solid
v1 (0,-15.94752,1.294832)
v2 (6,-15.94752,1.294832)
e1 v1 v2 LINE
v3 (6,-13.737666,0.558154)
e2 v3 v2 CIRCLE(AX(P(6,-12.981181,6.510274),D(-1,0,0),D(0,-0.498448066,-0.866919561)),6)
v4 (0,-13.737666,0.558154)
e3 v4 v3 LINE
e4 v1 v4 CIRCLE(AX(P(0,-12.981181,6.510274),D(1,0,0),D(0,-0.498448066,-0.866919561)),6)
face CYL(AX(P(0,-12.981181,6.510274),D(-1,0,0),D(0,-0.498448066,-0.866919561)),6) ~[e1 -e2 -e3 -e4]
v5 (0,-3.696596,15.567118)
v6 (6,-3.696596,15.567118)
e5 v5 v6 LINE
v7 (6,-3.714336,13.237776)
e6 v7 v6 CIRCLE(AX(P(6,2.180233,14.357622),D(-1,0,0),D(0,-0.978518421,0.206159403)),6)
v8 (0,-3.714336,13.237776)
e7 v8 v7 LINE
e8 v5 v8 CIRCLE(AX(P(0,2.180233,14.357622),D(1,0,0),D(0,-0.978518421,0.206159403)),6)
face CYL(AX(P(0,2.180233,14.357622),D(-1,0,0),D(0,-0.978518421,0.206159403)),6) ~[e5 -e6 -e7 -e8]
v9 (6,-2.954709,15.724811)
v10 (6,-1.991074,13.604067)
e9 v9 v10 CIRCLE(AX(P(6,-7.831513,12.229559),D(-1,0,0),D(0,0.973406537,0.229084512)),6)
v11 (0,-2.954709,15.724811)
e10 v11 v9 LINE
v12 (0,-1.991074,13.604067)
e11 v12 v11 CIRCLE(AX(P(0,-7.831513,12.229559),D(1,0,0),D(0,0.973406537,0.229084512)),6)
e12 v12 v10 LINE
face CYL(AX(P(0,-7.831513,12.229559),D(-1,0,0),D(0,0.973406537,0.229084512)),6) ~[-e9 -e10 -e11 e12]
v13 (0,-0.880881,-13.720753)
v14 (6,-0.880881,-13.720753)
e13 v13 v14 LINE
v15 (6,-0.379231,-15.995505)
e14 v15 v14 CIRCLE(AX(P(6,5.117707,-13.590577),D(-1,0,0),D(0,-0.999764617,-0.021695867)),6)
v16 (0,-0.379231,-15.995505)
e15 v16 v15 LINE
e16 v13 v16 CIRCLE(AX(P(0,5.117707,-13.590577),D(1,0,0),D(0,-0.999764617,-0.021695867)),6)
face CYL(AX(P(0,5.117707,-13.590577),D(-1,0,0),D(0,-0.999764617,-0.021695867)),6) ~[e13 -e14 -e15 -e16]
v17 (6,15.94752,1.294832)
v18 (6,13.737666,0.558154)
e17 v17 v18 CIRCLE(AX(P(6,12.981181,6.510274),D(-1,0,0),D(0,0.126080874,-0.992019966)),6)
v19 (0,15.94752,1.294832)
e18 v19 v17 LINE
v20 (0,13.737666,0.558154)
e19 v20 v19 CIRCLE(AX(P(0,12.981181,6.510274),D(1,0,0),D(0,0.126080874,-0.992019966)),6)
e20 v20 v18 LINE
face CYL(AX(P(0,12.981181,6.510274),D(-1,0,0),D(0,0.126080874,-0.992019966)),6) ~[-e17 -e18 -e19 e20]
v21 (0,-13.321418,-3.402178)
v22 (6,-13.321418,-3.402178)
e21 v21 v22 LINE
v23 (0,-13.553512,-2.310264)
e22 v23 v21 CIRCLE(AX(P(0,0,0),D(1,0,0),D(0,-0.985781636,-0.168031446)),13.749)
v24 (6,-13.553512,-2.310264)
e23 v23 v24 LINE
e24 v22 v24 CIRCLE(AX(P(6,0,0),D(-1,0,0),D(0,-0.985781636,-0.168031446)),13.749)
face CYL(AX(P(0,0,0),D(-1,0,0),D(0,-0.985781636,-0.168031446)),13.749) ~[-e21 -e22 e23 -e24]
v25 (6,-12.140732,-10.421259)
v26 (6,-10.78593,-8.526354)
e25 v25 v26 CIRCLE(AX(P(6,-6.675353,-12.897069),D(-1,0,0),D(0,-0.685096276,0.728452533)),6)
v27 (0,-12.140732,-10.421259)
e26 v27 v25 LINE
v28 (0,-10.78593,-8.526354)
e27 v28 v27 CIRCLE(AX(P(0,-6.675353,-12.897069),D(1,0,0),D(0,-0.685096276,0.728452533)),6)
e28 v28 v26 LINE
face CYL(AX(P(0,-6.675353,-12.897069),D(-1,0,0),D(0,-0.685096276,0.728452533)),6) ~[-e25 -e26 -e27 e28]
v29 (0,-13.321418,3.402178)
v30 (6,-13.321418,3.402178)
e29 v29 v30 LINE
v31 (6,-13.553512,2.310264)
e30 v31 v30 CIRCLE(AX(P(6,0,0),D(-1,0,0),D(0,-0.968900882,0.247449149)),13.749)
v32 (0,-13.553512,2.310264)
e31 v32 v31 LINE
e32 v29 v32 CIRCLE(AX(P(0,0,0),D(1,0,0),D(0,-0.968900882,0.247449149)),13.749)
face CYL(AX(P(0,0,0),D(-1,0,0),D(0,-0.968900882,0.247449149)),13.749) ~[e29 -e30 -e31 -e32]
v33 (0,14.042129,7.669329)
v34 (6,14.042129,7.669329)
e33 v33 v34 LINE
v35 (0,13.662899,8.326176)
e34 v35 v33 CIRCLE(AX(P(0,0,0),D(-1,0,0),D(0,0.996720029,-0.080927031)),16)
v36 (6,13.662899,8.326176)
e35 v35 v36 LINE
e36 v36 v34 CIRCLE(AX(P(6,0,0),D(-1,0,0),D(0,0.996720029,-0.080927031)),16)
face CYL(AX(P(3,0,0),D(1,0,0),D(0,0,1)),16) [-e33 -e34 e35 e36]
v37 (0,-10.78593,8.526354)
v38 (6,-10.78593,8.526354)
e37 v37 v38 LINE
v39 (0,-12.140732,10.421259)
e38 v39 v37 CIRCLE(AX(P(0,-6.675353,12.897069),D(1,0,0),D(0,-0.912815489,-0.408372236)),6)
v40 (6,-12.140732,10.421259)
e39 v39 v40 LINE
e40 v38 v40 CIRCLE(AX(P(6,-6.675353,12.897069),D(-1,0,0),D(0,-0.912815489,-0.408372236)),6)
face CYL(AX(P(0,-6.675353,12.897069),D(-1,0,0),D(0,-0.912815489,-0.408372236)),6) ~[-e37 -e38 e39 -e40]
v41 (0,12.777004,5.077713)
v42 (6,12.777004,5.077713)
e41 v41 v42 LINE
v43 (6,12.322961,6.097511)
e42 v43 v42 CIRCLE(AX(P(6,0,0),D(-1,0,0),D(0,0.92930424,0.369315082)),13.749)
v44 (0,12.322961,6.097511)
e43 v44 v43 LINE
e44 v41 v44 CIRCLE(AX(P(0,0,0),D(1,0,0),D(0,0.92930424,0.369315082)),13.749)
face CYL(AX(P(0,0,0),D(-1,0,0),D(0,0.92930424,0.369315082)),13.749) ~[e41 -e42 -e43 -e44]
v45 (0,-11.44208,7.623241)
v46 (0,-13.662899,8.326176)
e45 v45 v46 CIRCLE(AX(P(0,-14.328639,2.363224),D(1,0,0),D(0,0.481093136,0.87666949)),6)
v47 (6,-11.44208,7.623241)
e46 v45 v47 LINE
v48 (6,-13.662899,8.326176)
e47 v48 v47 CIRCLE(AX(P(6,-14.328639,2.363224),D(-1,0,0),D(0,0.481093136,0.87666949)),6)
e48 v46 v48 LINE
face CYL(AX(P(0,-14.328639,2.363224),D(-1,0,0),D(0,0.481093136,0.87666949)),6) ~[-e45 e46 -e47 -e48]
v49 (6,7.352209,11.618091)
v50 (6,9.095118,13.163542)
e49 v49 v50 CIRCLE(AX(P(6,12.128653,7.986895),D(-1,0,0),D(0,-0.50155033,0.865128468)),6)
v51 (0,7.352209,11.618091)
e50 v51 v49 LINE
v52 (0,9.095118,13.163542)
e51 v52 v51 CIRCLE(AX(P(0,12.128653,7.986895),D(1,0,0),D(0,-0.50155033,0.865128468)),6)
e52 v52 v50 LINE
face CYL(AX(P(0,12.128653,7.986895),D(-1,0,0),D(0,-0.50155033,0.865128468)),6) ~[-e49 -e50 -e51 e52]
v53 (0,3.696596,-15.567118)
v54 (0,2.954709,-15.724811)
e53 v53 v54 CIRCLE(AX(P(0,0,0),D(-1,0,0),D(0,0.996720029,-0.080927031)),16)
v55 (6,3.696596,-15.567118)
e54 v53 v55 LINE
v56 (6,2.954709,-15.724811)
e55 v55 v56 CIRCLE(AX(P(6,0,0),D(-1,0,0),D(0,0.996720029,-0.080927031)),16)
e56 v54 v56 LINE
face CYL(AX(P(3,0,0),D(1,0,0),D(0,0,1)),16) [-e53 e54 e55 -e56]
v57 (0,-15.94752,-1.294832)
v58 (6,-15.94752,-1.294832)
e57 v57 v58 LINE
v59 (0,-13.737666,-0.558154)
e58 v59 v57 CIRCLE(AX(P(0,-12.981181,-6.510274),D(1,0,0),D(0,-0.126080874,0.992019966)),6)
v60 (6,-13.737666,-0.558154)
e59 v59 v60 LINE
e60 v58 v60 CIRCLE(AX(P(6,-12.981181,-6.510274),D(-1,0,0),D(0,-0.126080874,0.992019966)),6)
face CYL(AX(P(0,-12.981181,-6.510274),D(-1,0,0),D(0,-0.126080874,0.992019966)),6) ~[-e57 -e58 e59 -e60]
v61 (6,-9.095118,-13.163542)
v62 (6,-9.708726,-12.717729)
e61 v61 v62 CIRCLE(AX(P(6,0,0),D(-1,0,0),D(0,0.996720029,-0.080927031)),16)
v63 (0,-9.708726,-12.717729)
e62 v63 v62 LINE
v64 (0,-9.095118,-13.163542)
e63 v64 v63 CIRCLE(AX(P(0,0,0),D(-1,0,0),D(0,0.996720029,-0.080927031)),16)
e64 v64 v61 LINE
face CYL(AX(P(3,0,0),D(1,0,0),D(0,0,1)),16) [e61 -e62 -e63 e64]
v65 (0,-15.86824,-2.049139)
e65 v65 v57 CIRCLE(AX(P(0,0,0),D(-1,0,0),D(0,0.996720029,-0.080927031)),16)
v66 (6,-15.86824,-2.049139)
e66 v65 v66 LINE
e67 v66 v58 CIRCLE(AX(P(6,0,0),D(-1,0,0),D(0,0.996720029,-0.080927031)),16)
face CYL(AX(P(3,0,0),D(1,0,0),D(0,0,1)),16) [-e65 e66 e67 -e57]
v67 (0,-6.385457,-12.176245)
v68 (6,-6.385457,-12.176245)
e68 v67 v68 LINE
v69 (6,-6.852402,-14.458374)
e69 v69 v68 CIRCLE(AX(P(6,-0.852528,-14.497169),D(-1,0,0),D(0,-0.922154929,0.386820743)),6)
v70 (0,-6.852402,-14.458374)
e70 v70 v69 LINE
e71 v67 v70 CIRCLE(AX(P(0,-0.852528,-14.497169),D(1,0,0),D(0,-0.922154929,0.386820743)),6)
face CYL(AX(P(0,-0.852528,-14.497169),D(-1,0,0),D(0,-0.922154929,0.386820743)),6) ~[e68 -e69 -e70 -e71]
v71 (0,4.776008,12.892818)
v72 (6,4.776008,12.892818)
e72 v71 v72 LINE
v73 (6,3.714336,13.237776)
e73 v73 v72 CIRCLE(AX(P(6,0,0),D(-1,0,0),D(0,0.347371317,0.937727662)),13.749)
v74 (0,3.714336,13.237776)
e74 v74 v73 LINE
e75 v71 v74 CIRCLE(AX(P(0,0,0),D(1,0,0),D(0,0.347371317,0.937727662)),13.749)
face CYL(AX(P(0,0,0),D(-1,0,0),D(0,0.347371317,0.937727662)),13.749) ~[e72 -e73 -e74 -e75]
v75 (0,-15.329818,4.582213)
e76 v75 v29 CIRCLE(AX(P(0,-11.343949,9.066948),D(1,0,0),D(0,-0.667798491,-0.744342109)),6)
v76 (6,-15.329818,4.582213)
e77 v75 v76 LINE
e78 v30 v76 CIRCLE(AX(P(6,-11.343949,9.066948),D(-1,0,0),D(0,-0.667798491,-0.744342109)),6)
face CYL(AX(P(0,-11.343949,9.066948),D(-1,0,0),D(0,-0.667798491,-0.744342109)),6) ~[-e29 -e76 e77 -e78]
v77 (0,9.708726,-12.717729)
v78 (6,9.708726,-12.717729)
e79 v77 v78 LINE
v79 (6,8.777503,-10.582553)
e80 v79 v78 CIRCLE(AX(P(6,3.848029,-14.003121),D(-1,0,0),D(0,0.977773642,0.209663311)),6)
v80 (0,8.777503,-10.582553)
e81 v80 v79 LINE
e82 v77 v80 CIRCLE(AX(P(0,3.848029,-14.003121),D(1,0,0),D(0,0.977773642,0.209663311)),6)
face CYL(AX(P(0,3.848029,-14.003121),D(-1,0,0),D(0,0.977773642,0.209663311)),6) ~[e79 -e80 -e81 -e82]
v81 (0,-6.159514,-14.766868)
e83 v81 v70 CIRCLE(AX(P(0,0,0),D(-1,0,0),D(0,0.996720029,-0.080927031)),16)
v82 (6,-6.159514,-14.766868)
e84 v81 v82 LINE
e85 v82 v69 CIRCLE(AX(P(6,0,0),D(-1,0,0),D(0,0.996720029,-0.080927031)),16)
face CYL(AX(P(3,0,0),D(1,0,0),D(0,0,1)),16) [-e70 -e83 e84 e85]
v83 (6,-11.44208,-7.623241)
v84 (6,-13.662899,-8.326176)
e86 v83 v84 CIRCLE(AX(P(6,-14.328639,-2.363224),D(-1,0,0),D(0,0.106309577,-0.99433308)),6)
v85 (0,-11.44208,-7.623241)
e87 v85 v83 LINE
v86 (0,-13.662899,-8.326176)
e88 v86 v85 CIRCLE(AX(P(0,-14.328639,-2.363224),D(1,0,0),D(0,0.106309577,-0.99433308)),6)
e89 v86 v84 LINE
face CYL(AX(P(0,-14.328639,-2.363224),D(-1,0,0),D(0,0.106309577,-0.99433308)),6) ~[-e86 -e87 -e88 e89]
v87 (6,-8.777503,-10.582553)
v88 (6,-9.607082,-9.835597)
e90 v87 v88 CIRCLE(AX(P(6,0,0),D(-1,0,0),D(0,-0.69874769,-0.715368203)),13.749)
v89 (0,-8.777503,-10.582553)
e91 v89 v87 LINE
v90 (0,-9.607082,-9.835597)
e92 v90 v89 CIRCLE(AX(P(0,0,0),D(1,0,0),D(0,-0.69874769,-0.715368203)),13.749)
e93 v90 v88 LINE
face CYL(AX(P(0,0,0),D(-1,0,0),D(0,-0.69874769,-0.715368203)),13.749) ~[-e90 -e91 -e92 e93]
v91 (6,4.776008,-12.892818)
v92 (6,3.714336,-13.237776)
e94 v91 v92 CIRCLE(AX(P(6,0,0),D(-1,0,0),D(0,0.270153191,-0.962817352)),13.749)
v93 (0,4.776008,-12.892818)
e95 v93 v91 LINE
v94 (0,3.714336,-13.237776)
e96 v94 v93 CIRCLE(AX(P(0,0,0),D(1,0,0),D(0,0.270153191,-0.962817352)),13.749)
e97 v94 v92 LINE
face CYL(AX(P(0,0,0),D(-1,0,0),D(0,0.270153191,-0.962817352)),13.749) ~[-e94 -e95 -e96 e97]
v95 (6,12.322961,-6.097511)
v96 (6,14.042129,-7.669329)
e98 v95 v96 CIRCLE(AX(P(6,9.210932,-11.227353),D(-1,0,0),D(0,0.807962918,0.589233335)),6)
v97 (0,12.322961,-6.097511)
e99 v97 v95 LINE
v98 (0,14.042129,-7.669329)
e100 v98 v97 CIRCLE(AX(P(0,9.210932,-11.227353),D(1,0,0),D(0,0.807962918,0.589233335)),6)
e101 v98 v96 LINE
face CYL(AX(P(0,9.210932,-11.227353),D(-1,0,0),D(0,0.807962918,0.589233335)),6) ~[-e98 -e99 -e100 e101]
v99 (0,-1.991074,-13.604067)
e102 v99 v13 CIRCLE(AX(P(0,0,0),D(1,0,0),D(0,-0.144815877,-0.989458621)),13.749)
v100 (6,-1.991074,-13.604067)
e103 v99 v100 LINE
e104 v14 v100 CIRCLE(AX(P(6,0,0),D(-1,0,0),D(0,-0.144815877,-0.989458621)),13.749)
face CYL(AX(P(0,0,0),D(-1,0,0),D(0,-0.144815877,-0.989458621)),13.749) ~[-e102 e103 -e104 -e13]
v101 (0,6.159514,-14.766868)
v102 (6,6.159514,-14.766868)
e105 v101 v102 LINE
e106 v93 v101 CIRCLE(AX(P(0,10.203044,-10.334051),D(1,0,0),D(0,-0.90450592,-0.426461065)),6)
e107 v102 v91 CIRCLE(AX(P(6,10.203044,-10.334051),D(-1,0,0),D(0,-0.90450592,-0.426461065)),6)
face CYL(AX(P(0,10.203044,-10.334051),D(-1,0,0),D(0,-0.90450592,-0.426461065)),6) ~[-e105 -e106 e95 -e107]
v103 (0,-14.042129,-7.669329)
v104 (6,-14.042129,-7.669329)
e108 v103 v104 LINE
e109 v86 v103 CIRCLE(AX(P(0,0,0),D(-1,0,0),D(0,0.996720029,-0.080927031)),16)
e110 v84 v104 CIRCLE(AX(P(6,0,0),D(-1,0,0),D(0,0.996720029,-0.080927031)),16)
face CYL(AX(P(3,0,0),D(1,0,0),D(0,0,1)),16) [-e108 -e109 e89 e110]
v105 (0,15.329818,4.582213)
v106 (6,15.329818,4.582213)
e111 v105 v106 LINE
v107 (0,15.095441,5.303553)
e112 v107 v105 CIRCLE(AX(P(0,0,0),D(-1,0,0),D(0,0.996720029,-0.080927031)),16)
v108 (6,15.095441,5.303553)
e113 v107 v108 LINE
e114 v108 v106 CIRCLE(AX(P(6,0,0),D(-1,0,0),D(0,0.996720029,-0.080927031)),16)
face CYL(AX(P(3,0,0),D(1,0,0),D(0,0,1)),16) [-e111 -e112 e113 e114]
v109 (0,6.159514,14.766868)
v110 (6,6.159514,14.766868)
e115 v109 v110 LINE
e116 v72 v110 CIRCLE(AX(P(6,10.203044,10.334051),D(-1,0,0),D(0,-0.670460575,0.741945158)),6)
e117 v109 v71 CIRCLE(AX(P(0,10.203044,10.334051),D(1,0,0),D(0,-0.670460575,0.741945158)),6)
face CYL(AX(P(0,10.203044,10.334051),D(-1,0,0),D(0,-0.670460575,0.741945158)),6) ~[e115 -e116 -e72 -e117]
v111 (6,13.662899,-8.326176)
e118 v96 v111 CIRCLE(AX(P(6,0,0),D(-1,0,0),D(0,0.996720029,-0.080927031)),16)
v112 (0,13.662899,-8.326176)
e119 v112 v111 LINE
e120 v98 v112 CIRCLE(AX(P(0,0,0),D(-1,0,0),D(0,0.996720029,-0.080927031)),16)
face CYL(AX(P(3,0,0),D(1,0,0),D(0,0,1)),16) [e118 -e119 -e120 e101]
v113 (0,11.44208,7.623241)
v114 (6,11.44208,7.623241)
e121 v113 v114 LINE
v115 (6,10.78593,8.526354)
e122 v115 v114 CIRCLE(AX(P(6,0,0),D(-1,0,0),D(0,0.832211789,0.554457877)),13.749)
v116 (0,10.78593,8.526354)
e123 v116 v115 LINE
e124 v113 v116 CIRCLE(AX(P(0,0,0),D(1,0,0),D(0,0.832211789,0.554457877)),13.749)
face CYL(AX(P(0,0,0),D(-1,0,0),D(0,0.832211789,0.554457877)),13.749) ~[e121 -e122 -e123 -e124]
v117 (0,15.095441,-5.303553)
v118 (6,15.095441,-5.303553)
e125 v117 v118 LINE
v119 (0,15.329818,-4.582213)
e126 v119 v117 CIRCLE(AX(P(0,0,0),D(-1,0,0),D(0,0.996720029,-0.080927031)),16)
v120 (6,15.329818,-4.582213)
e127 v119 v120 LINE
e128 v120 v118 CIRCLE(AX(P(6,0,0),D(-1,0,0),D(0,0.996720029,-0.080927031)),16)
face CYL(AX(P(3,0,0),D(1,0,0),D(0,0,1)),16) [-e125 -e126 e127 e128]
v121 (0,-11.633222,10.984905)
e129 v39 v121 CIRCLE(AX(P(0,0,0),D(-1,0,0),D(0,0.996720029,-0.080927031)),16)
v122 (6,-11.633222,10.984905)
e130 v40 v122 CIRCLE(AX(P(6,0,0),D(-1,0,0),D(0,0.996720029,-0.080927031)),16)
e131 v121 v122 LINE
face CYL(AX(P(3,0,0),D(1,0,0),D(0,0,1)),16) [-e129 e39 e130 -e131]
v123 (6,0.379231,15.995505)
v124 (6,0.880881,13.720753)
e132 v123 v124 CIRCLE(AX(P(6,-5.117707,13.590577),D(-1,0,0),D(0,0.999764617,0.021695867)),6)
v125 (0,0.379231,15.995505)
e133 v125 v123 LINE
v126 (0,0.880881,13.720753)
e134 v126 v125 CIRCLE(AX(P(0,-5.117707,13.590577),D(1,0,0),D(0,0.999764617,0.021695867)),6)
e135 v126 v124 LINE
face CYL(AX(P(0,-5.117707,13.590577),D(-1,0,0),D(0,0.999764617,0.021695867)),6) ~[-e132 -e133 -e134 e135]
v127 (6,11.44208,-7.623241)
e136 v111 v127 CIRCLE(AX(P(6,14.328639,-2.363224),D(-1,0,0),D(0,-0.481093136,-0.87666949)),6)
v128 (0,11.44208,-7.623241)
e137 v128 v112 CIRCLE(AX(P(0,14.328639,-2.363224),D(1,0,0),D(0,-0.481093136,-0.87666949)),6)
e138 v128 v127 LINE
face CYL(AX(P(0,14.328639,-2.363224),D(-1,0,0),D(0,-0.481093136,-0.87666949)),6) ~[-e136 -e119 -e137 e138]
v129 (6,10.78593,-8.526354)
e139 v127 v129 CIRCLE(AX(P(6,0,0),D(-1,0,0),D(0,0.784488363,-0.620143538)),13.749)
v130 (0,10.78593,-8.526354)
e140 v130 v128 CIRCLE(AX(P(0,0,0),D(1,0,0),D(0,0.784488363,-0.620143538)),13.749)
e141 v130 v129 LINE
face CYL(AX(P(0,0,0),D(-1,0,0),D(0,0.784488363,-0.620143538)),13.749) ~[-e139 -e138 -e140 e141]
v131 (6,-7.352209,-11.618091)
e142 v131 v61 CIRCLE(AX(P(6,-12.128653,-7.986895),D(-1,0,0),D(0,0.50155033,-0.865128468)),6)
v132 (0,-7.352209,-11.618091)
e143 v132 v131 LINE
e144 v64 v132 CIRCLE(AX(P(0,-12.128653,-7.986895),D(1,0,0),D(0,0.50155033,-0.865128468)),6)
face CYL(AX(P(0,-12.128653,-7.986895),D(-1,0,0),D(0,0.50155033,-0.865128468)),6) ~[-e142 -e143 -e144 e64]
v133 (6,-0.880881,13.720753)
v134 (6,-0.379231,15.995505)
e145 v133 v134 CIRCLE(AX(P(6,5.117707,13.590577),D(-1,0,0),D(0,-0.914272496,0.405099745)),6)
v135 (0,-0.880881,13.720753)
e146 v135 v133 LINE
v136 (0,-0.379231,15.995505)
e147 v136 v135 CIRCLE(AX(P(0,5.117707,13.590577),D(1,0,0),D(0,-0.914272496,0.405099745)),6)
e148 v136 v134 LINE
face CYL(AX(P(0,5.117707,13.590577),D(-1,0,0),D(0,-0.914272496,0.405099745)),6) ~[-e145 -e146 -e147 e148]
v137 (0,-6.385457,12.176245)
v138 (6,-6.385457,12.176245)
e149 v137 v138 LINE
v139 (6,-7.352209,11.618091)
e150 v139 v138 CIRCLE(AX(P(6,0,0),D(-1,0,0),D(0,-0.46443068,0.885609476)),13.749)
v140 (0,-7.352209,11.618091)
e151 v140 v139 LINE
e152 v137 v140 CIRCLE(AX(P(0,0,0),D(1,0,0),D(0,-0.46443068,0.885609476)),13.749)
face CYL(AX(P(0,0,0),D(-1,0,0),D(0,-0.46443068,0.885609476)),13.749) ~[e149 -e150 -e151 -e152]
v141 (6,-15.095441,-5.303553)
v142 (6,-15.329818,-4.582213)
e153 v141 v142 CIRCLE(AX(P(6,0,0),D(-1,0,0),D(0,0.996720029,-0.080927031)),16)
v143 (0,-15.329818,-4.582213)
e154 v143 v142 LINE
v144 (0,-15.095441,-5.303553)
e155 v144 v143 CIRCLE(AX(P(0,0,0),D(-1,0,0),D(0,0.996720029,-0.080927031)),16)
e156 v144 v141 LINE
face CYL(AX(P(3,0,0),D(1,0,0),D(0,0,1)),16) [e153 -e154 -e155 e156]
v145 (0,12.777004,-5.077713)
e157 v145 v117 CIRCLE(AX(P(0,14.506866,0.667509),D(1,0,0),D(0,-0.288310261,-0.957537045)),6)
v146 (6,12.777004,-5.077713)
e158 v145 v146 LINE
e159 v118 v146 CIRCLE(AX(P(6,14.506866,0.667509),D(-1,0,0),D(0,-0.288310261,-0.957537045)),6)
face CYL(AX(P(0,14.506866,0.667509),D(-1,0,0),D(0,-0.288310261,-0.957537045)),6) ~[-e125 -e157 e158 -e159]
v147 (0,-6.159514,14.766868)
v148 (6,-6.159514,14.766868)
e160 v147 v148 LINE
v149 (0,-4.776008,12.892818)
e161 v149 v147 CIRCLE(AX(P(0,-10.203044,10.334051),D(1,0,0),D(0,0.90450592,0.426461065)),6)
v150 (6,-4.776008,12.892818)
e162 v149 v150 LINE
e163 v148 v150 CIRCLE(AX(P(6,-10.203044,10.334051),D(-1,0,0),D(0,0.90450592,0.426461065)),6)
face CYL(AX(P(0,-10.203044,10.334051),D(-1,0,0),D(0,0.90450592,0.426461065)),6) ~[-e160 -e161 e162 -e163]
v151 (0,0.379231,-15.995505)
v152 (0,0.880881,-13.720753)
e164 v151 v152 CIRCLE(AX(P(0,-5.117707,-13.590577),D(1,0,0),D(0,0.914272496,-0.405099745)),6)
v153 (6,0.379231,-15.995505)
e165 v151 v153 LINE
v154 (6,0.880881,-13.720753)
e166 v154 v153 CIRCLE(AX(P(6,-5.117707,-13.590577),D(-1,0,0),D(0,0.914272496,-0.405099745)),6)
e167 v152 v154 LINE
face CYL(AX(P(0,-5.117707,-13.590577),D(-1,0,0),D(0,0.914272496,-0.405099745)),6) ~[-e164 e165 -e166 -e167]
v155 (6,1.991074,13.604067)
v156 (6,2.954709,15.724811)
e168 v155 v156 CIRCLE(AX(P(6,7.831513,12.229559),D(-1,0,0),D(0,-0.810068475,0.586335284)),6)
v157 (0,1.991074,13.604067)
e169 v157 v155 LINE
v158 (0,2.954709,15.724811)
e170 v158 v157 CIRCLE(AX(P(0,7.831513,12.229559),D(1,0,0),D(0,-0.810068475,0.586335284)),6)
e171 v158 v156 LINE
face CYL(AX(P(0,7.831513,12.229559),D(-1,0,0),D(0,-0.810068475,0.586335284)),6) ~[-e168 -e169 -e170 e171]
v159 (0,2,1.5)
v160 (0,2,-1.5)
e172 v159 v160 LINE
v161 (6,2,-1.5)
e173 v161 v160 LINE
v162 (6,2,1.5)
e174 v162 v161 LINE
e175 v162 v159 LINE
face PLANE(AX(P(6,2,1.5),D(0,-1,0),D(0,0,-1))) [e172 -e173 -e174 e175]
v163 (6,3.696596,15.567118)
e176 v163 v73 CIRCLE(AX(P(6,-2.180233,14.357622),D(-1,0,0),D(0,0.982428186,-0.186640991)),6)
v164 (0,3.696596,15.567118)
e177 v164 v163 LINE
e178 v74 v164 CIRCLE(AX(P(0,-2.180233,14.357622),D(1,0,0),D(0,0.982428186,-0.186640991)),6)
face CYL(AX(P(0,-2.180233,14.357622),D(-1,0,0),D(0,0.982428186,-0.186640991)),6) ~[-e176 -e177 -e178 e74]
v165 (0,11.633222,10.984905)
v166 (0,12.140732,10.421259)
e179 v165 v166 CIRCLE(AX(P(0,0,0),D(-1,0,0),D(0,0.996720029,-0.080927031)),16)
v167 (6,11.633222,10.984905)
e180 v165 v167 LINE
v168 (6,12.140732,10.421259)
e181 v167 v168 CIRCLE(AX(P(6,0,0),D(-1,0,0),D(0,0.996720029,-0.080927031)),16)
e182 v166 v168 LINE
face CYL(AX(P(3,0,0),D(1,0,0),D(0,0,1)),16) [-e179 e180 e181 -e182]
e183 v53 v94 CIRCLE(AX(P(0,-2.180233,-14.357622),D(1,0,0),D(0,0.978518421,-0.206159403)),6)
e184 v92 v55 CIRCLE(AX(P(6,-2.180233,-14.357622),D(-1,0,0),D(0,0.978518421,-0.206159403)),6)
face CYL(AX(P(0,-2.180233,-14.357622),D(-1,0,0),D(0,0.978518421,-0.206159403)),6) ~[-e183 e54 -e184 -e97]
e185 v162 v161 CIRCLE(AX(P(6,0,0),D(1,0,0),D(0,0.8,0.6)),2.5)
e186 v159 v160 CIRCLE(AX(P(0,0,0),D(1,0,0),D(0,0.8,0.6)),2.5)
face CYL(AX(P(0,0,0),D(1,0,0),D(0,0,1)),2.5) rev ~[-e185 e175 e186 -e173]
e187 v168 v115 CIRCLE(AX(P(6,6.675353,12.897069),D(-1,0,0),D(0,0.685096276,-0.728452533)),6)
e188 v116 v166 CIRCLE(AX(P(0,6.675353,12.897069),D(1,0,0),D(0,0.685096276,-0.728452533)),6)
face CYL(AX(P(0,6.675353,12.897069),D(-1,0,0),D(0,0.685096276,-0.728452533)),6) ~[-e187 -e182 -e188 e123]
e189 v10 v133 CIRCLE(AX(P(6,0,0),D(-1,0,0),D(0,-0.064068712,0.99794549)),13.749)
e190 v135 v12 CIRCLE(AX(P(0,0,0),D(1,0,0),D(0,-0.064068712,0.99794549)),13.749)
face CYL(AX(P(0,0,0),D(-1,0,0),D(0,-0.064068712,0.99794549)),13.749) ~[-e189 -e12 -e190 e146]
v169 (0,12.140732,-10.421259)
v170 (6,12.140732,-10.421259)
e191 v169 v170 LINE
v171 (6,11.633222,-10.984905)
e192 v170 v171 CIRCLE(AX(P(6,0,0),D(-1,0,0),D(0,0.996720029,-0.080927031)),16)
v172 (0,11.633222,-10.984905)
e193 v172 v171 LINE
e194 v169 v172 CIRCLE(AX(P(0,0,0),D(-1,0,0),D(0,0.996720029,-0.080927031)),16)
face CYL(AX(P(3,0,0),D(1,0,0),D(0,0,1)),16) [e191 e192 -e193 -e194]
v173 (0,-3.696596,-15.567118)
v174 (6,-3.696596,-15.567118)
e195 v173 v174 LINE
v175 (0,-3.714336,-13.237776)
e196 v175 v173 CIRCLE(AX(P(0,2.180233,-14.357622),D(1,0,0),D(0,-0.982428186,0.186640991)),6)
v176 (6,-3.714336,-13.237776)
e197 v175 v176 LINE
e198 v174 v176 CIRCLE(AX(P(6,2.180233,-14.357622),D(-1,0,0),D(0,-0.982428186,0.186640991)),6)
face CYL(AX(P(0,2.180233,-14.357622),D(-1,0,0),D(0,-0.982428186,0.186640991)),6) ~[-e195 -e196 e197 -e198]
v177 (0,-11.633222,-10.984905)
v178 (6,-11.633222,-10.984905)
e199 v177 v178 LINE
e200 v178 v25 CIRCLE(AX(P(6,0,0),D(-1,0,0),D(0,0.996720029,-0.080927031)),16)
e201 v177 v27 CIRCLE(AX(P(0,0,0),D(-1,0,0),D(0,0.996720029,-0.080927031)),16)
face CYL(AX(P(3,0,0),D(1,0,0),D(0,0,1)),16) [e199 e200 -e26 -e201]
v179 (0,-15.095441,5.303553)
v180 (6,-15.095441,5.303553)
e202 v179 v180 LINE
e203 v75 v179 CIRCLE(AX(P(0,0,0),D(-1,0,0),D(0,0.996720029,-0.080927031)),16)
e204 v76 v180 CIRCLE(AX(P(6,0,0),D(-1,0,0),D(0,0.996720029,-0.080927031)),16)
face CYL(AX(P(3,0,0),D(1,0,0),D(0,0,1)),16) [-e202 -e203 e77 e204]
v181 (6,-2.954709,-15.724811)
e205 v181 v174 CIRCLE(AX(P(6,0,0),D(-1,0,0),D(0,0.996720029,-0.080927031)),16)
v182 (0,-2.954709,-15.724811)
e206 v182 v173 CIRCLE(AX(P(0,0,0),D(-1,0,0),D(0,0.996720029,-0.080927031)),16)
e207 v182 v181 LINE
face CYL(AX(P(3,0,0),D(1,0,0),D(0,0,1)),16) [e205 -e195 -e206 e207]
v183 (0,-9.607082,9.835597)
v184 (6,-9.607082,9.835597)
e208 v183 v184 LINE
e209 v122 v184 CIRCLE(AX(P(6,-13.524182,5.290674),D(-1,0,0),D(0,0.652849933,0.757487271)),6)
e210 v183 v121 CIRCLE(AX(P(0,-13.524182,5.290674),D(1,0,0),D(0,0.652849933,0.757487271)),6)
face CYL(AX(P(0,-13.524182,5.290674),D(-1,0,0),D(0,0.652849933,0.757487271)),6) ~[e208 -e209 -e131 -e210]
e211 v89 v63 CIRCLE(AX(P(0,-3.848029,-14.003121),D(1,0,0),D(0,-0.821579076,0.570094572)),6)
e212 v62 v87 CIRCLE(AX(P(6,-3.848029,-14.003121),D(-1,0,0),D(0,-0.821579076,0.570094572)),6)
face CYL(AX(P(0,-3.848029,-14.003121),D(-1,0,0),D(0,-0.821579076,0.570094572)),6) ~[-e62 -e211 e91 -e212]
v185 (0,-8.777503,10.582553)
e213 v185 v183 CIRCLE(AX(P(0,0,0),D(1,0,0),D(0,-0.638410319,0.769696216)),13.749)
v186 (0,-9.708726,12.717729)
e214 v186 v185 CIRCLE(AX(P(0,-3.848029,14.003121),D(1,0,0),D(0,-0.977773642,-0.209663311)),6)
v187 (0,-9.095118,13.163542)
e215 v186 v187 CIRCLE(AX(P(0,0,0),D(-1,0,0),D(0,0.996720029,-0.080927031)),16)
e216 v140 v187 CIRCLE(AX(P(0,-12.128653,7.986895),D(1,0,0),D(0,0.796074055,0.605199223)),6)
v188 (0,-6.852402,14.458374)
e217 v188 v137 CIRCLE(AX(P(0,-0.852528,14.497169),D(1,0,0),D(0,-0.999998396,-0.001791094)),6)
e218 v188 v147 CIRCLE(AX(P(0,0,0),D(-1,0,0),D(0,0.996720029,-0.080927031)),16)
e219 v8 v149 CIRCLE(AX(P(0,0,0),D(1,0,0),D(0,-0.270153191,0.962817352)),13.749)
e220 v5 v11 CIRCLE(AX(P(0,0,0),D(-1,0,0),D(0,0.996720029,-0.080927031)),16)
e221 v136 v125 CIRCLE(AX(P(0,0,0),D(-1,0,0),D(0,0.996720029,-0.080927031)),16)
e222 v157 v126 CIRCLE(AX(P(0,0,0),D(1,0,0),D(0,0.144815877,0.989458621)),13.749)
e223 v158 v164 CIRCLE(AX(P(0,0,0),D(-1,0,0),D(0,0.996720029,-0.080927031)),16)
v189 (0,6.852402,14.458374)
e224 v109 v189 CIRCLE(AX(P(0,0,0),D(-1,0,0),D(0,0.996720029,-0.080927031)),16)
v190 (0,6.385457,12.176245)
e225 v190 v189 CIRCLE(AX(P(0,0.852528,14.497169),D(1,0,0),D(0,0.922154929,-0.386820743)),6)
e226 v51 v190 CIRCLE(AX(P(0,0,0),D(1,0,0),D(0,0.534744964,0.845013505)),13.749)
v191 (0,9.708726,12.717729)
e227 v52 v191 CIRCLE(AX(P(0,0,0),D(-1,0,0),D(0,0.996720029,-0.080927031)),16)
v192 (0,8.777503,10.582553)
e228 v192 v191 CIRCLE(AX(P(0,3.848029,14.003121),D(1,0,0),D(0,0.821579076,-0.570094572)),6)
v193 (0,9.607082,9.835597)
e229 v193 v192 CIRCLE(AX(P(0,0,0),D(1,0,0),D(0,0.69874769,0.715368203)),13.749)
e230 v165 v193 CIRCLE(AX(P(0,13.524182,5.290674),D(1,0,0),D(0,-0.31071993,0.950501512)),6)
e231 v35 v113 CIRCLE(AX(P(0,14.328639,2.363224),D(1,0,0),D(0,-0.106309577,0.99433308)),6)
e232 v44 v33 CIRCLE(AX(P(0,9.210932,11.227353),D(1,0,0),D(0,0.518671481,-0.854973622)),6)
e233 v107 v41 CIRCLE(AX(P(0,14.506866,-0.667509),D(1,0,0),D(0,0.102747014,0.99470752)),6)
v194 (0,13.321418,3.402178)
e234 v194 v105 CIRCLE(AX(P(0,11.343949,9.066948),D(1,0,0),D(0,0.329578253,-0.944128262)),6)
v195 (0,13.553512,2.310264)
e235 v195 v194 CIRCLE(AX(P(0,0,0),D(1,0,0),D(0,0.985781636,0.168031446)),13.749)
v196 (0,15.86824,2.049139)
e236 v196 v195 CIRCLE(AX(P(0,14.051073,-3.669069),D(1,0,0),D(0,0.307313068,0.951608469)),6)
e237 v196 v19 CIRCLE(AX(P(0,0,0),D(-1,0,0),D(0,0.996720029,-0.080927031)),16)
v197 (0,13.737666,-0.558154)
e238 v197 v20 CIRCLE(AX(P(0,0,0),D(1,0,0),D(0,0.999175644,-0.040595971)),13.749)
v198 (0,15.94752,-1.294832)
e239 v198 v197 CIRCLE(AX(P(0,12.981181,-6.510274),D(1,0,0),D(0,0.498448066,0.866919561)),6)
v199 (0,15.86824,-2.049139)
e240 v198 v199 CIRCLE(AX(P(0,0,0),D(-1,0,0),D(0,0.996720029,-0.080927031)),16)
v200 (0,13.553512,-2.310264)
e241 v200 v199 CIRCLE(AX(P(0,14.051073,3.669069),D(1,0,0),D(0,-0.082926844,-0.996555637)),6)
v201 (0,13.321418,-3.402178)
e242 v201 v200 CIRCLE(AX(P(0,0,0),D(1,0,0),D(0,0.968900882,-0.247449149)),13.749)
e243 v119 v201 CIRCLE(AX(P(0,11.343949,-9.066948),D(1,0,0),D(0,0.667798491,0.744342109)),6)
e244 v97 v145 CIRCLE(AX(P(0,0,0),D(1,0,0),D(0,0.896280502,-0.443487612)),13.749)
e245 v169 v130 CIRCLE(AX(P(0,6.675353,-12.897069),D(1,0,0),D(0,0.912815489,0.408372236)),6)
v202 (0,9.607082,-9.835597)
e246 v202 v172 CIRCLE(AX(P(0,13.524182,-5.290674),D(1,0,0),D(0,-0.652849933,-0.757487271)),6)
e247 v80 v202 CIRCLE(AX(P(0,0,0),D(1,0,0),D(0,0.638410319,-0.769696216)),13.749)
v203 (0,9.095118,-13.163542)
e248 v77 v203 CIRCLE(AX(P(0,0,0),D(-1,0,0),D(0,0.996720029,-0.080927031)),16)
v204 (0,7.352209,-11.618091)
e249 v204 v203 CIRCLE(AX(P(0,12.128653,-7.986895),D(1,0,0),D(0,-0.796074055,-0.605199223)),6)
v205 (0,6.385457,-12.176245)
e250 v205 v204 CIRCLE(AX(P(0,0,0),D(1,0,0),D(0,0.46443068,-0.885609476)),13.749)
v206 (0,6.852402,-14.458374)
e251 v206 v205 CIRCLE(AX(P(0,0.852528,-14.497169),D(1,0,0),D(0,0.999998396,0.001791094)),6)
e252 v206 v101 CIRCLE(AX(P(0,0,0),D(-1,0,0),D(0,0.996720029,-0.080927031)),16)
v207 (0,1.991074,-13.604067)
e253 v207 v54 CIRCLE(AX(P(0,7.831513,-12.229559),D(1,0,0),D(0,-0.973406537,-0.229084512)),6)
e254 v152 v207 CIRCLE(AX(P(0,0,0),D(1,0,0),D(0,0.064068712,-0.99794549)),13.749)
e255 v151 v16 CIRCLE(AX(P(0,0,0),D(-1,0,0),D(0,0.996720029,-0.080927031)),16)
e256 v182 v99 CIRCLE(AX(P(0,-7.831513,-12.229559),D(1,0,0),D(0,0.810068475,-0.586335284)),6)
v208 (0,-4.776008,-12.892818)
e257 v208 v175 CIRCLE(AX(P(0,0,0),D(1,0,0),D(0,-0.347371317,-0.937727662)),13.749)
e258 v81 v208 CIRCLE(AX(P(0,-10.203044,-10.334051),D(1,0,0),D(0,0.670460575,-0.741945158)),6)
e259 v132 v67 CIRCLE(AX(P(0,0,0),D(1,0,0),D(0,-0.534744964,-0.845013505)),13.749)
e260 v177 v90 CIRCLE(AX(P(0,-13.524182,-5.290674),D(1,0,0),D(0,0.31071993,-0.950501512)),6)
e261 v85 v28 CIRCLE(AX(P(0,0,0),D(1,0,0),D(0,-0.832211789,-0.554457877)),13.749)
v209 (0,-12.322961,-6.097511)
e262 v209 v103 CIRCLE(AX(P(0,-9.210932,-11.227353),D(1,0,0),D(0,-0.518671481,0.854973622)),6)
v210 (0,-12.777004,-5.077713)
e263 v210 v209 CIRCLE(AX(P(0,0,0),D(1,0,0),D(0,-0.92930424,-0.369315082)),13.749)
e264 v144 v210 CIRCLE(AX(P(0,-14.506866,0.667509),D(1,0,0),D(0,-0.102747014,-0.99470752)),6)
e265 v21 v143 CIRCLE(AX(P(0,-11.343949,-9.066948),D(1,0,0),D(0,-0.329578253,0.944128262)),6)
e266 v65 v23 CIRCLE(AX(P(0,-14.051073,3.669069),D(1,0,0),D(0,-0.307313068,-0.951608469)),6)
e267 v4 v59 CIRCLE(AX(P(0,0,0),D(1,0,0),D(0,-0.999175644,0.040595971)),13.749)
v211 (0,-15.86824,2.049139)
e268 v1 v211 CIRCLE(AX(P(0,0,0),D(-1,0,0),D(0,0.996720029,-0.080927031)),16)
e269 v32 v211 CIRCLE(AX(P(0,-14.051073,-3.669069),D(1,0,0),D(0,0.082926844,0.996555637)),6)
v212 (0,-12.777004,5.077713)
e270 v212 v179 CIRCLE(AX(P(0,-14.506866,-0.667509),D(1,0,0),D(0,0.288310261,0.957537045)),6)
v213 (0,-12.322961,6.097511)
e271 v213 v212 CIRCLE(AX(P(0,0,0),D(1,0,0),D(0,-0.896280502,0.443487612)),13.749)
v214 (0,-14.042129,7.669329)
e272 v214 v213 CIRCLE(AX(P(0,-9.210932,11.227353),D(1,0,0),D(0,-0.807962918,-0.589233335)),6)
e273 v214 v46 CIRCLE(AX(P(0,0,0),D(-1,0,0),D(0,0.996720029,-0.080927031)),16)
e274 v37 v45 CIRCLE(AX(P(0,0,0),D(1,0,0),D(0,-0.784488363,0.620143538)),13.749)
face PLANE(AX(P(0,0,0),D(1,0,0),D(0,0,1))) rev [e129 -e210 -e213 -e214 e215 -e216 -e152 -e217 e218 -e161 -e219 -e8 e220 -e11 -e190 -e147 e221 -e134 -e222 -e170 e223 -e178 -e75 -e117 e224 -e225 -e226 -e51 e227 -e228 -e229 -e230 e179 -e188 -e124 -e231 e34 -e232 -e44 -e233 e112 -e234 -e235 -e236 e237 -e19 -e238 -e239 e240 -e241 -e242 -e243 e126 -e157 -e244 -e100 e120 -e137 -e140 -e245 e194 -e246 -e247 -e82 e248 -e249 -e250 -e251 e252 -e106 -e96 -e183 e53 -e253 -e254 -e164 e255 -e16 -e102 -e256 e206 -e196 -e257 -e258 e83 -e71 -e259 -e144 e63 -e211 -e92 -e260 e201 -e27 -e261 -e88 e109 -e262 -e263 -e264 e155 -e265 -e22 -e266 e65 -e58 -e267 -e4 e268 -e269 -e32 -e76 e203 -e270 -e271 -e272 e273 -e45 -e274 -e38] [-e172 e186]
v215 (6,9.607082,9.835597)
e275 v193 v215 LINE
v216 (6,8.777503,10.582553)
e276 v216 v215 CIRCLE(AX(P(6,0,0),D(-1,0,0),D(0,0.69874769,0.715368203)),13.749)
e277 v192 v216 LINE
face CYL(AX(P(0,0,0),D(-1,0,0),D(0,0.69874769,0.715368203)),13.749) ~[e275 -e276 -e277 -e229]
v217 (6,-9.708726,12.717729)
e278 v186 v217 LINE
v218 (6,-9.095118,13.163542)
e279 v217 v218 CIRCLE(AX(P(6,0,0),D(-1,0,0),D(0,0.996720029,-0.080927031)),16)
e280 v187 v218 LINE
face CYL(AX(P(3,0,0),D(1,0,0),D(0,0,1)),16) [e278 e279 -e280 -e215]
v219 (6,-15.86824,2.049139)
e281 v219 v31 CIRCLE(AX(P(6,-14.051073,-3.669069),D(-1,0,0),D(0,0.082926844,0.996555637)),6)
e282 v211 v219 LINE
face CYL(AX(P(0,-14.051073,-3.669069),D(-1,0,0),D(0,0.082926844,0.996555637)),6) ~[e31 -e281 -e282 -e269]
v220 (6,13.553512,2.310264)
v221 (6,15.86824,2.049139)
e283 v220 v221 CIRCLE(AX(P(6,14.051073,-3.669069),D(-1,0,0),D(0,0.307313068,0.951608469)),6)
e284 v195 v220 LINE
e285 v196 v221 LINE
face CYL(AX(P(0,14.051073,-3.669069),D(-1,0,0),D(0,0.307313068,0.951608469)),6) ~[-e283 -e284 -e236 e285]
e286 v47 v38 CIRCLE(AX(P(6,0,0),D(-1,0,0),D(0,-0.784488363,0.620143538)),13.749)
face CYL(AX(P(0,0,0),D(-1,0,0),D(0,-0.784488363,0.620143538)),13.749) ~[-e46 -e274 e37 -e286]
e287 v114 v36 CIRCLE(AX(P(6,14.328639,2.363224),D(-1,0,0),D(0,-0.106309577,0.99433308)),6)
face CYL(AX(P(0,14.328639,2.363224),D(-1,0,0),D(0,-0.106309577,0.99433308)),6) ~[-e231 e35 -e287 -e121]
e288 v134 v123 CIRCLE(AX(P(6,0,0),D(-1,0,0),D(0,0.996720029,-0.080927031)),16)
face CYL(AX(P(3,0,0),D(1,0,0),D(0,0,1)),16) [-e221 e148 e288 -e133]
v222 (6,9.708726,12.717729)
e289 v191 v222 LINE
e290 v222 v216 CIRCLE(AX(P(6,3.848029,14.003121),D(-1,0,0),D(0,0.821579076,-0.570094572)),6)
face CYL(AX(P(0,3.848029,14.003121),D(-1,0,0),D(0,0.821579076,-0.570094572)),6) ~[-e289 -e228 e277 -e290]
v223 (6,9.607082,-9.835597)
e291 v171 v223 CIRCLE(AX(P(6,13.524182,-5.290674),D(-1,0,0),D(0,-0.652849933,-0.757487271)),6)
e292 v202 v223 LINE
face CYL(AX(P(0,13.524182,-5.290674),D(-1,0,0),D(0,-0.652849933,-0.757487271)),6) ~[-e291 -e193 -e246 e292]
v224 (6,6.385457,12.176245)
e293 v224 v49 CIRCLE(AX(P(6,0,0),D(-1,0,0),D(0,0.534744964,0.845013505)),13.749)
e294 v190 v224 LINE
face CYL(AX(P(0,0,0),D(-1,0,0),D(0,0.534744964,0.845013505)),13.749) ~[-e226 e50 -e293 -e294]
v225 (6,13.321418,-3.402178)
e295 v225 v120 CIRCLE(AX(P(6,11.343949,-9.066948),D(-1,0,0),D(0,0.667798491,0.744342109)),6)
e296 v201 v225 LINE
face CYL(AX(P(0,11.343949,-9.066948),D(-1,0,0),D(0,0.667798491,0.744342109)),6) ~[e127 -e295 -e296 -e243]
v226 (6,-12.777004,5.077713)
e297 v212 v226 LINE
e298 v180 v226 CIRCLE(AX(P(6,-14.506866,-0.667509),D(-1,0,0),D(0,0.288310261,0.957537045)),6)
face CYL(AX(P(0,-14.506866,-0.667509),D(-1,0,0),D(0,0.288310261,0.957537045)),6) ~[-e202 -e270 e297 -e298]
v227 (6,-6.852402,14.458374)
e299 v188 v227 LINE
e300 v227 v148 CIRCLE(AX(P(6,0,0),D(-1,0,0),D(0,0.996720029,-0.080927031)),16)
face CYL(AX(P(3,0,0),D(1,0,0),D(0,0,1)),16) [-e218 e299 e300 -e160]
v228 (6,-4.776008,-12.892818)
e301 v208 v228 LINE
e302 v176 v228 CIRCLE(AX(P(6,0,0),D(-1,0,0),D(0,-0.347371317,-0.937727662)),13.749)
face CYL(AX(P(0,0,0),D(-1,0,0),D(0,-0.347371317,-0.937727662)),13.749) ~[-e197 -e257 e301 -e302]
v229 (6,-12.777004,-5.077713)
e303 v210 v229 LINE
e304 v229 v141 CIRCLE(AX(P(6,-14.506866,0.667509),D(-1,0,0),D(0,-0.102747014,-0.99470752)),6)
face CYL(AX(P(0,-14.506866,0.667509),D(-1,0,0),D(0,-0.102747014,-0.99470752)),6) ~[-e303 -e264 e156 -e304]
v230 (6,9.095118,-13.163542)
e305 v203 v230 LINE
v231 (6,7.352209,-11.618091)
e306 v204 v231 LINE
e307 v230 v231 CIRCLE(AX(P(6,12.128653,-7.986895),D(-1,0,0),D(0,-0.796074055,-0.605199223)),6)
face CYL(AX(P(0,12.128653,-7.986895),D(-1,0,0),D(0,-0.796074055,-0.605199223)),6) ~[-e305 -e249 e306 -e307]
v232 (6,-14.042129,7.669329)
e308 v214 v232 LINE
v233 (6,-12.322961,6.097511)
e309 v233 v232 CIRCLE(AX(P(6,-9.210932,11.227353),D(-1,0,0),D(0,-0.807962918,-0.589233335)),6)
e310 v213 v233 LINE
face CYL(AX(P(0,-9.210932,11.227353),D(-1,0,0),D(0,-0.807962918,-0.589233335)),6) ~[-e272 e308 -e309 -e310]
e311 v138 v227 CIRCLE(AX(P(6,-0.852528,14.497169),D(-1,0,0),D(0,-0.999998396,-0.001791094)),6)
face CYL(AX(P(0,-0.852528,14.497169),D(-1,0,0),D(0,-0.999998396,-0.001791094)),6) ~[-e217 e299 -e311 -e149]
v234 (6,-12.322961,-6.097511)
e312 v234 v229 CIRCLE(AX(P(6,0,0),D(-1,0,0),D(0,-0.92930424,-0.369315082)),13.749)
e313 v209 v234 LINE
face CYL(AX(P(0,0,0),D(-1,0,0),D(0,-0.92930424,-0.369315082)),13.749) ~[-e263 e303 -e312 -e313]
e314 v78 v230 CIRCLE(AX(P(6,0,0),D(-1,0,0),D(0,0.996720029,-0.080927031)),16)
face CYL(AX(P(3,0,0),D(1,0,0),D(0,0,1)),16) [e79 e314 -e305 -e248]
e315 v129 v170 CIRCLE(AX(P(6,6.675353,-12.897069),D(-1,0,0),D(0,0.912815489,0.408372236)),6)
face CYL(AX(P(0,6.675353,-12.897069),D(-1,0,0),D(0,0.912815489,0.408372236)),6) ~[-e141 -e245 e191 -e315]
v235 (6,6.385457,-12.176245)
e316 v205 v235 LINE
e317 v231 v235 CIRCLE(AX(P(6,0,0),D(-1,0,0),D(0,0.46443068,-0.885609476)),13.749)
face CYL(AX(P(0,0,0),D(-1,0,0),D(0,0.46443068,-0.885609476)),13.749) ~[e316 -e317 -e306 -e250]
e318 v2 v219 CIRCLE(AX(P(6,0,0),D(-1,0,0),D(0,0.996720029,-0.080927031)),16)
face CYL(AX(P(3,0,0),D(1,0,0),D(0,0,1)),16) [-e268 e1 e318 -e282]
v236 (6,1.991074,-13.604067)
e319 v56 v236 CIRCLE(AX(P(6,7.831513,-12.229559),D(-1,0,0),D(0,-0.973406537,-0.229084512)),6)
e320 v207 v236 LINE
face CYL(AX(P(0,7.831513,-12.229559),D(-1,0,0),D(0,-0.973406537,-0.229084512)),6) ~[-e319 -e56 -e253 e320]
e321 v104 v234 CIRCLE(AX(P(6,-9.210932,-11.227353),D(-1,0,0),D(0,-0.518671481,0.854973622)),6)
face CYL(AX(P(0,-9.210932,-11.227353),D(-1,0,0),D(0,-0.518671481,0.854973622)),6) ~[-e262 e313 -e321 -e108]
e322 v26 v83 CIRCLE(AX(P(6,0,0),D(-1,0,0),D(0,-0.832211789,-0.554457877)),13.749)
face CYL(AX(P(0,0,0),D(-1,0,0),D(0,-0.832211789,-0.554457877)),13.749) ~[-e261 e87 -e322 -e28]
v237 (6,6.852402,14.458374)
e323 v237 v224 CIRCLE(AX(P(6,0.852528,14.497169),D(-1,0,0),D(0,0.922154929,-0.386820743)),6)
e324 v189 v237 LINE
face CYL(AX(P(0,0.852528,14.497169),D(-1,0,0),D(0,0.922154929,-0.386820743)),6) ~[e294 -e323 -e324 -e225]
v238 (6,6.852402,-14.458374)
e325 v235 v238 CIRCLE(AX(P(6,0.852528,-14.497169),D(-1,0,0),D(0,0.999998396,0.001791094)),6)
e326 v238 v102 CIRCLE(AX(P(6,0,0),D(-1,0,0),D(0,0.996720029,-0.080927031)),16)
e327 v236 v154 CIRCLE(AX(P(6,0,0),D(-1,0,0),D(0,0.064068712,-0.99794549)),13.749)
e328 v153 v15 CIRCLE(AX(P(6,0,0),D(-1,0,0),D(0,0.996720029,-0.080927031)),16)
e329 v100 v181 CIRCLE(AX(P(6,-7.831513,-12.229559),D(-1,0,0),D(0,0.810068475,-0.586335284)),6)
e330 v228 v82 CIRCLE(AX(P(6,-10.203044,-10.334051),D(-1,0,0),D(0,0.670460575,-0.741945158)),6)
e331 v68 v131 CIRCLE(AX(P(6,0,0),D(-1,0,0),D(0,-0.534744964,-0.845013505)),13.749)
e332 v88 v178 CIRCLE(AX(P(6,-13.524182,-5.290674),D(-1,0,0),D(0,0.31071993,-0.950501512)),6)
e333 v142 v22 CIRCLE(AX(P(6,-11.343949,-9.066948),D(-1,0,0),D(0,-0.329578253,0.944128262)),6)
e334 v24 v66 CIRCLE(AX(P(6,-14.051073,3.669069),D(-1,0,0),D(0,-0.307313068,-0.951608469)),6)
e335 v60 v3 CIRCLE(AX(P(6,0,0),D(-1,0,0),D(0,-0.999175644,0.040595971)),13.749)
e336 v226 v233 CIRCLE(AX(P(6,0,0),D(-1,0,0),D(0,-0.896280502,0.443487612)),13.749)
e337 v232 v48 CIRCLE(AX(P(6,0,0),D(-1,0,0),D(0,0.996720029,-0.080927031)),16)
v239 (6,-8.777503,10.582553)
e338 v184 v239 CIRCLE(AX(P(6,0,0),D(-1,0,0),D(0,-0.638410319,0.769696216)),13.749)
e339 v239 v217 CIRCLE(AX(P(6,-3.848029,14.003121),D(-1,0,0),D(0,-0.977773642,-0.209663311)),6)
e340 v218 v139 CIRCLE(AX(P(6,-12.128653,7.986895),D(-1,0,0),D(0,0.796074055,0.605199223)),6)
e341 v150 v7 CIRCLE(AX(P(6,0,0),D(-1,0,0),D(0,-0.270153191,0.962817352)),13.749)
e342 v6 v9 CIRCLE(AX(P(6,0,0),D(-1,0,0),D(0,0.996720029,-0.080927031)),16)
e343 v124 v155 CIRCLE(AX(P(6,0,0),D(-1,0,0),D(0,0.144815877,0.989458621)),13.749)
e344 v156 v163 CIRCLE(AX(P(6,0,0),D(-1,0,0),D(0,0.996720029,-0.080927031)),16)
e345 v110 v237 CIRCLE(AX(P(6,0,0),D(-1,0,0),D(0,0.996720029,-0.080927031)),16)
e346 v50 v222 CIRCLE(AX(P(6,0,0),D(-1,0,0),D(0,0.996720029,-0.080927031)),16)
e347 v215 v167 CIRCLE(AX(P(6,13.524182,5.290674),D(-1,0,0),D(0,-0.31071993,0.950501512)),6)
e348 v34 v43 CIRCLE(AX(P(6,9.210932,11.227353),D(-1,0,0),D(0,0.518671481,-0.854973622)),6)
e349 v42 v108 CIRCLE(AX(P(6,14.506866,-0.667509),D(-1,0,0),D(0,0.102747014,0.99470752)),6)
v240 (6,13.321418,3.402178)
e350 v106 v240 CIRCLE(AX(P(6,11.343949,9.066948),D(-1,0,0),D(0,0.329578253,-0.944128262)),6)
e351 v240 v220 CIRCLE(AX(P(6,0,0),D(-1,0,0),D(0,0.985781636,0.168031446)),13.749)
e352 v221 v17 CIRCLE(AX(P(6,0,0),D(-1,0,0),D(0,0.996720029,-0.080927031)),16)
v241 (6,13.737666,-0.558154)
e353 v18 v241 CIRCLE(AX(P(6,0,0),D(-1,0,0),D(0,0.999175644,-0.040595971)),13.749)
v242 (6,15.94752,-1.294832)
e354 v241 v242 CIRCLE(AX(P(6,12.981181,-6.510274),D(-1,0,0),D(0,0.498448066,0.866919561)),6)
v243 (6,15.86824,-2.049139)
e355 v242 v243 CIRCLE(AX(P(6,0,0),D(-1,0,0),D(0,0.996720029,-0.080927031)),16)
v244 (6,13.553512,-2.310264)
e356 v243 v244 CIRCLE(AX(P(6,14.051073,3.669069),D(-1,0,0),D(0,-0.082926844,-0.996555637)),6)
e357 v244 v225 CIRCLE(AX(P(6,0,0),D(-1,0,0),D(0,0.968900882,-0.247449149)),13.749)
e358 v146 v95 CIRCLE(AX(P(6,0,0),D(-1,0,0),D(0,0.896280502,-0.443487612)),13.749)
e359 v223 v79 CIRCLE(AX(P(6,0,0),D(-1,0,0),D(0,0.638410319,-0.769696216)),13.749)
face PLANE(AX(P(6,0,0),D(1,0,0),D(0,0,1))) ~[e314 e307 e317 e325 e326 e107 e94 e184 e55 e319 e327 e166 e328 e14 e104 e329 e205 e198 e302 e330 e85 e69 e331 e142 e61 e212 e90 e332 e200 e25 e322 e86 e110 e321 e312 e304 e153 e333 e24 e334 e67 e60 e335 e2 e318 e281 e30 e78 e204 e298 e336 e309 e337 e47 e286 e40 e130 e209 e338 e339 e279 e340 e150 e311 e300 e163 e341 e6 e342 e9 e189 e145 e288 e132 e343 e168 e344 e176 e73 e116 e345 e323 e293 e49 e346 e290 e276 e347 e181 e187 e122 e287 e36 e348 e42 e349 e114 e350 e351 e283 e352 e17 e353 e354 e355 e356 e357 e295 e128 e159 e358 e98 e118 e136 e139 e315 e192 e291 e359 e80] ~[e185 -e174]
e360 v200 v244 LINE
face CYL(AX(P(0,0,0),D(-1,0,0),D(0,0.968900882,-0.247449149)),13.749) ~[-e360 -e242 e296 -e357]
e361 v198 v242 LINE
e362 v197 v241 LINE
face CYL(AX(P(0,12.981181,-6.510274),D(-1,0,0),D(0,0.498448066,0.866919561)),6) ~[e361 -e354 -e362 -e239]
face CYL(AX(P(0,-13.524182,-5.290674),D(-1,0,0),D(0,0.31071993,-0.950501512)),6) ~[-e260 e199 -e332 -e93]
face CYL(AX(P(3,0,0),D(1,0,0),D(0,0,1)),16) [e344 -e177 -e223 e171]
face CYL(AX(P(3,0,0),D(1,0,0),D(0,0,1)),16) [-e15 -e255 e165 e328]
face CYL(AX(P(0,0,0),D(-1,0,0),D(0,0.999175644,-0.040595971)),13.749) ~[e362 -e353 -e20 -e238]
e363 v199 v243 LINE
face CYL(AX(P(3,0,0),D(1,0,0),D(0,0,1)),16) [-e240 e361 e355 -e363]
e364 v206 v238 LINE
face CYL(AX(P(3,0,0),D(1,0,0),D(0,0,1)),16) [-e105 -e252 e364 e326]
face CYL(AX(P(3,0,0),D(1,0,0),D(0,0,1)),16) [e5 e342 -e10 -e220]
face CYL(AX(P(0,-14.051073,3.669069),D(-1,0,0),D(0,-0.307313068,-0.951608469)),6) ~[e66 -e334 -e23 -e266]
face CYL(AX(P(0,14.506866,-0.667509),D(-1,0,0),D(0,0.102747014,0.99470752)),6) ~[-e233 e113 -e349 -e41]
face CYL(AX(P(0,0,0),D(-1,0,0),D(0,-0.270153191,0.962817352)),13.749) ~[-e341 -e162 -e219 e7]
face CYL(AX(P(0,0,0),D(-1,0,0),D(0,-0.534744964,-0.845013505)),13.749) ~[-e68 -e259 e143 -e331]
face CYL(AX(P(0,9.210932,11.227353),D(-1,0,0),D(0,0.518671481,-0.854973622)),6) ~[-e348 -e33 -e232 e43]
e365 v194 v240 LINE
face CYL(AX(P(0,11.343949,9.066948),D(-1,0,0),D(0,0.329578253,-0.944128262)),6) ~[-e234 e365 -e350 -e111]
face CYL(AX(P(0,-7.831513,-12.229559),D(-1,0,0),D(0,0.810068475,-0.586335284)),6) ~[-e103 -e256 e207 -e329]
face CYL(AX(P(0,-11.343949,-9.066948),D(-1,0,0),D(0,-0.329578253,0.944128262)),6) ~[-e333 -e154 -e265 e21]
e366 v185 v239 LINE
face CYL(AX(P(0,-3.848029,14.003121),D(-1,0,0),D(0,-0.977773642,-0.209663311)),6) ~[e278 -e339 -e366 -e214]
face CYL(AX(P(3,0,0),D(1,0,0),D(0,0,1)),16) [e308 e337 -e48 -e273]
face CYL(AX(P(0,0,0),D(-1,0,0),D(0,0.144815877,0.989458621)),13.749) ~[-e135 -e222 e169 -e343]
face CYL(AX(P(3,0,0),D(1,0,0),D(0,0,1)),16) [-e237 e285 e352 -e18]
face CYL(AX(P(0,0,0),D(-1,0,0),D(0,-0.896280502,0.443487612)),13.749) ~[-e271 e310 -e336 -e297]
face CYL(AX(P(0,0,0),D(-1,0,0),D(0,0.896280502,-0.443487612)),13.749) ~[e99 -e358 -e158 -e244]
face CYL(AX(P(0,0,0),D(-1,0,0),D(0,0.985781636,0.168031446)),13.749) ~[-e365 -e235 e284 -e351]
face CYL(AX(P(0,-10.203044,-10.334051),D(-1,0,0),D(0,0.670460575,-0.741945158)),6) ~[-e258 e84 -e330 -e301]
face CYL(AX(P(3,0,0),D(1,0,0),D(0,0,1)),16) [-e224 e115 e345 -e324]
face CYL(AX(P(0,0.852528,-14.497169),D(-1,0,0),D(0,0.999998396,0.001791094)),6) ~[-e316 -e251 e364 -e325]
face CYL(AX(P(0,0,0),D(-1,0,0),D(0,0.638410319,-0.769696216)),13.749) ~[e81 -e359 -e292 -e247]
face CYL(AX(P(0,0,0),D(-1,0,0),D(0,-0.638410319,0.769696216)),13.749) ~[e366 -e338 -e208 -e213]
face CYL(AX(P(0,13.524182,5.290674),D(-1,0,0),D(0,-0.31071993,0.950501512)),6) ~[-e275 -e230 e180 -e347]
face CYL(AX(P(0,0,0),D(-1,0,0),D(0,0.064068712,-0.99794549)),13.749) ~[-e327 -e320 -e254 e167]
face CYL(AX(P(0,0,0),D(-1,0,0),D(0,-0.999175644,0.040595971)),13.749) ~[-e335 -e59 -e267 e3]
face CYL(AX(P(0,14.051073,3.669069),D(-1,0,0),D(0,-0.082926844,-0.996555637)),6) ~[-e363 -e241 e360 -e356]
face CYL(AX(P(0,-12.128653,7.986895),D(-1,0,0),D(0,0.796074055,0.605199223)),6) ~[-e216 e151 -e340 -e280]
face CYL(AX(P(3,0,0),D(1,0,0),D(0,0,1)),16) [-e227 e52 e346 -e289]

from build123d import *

# Parameters (mm, degrees)
BASPROSKE_W         = 6
BASPROSKE_H         = 16
TOOTHCUT_DEPTH      = 24.409399821
TEETHCUTS_COUNT     = 30
TEETHCUTS_ANGLE     = 348
BORSKE_R            = 2.5
BORE_DEPTH          = 50.0000508
BOSS_EXTRUDE1_DEPTH = 6


with BuildPart() as part:
    # BasProSke → Base-Revolve (revolve)
    with BuildSketch(Plane(origin=(0, 0, 0), x_dir=(1, 0, 0), z_dir=(0, 1, 0)), mode=Mode.PRIVATE) as base_revolve_sk:
        with Locations((3, 8)):
            Rectangle(BASPROSKE_W, BASPROSKE_H)
    revolve(base_revolve_sk.sketch.rotate(Axis((-10, 0, 0), (1, 0, 0)), 180), axis=Axis((-10, 0, 0), (1, 0, 0)))

    # TooCutSke → ToothCut (cut, through all)
    with BuildSketch(Plane(origin=(0, 0, 0), x_dir=(0, 0, -1), z_dir=(1, 0, 0))):
        with BuildLine():
            ThreePointArc((0.558154026, 13.737665926), (0, 13.749), (-0.558154026, 13.737665926))
            ThreePointArc((-0.558154026, 13.737665926), (-0.82267139, 14.891986419), (-1.308756454, 15.971869074))
            ThreePointArc((-1.308756454, 15.971869074), (0, 16.0254), (1.308756454, 15.971869074))
            ThreePointArc((1.308756454, 15.971869074), (0.82267139, 14.891986419), (0.558154026, 13.737665926))
        make_face()
    toothcut = extrude(amount=TOOTHCUT_DEPTH, mode=Mode.SUBTRACT)

    # TeethCuts: ToothCut ×30 about axis
    teethcuts_axis = Axis((-10, 0, 0), (1, 0, 0))
    for i in range(1, TEETHCUTS_COUNT):
        add(toothcut.rotate(teethcuts_axis, i * TEETHCUTS_ANGLE / (TEETHCUTS_COUNT - 1)), mode=Mode.SUBTRACT)

    # BorSke → Bore (cut, symmetric)
    with BuildSketch(Plane(origin=(0, 0, 0), x_dir=(0, 0, -1), z_dir=(1, 0, 0))):
        with Locations(Location((0, 0, 0), (0, 0, 180))):
            Circle(BORSKE_R)
    extrude(amount=BORE_DEPTH, both=True, mode=Mode.SUBTRACT)

    # Sketch1 → Boss-Extrude1 (add)
    with BuildSketch(Plane(origin=(6, 0, 0), x_dir=(0, 0, -1), z_dir=(1, 0, 0))):
        with BuildLine():
            Line((-1.5, 2), (1.5, 2))
            ThreePointArc((1.5, 2), (0, 2.5), (-1.5, 2))
        make_face()
    extrude(amount=-BOSS_EXTRUDE1_DEPTH)


solid = part.part
